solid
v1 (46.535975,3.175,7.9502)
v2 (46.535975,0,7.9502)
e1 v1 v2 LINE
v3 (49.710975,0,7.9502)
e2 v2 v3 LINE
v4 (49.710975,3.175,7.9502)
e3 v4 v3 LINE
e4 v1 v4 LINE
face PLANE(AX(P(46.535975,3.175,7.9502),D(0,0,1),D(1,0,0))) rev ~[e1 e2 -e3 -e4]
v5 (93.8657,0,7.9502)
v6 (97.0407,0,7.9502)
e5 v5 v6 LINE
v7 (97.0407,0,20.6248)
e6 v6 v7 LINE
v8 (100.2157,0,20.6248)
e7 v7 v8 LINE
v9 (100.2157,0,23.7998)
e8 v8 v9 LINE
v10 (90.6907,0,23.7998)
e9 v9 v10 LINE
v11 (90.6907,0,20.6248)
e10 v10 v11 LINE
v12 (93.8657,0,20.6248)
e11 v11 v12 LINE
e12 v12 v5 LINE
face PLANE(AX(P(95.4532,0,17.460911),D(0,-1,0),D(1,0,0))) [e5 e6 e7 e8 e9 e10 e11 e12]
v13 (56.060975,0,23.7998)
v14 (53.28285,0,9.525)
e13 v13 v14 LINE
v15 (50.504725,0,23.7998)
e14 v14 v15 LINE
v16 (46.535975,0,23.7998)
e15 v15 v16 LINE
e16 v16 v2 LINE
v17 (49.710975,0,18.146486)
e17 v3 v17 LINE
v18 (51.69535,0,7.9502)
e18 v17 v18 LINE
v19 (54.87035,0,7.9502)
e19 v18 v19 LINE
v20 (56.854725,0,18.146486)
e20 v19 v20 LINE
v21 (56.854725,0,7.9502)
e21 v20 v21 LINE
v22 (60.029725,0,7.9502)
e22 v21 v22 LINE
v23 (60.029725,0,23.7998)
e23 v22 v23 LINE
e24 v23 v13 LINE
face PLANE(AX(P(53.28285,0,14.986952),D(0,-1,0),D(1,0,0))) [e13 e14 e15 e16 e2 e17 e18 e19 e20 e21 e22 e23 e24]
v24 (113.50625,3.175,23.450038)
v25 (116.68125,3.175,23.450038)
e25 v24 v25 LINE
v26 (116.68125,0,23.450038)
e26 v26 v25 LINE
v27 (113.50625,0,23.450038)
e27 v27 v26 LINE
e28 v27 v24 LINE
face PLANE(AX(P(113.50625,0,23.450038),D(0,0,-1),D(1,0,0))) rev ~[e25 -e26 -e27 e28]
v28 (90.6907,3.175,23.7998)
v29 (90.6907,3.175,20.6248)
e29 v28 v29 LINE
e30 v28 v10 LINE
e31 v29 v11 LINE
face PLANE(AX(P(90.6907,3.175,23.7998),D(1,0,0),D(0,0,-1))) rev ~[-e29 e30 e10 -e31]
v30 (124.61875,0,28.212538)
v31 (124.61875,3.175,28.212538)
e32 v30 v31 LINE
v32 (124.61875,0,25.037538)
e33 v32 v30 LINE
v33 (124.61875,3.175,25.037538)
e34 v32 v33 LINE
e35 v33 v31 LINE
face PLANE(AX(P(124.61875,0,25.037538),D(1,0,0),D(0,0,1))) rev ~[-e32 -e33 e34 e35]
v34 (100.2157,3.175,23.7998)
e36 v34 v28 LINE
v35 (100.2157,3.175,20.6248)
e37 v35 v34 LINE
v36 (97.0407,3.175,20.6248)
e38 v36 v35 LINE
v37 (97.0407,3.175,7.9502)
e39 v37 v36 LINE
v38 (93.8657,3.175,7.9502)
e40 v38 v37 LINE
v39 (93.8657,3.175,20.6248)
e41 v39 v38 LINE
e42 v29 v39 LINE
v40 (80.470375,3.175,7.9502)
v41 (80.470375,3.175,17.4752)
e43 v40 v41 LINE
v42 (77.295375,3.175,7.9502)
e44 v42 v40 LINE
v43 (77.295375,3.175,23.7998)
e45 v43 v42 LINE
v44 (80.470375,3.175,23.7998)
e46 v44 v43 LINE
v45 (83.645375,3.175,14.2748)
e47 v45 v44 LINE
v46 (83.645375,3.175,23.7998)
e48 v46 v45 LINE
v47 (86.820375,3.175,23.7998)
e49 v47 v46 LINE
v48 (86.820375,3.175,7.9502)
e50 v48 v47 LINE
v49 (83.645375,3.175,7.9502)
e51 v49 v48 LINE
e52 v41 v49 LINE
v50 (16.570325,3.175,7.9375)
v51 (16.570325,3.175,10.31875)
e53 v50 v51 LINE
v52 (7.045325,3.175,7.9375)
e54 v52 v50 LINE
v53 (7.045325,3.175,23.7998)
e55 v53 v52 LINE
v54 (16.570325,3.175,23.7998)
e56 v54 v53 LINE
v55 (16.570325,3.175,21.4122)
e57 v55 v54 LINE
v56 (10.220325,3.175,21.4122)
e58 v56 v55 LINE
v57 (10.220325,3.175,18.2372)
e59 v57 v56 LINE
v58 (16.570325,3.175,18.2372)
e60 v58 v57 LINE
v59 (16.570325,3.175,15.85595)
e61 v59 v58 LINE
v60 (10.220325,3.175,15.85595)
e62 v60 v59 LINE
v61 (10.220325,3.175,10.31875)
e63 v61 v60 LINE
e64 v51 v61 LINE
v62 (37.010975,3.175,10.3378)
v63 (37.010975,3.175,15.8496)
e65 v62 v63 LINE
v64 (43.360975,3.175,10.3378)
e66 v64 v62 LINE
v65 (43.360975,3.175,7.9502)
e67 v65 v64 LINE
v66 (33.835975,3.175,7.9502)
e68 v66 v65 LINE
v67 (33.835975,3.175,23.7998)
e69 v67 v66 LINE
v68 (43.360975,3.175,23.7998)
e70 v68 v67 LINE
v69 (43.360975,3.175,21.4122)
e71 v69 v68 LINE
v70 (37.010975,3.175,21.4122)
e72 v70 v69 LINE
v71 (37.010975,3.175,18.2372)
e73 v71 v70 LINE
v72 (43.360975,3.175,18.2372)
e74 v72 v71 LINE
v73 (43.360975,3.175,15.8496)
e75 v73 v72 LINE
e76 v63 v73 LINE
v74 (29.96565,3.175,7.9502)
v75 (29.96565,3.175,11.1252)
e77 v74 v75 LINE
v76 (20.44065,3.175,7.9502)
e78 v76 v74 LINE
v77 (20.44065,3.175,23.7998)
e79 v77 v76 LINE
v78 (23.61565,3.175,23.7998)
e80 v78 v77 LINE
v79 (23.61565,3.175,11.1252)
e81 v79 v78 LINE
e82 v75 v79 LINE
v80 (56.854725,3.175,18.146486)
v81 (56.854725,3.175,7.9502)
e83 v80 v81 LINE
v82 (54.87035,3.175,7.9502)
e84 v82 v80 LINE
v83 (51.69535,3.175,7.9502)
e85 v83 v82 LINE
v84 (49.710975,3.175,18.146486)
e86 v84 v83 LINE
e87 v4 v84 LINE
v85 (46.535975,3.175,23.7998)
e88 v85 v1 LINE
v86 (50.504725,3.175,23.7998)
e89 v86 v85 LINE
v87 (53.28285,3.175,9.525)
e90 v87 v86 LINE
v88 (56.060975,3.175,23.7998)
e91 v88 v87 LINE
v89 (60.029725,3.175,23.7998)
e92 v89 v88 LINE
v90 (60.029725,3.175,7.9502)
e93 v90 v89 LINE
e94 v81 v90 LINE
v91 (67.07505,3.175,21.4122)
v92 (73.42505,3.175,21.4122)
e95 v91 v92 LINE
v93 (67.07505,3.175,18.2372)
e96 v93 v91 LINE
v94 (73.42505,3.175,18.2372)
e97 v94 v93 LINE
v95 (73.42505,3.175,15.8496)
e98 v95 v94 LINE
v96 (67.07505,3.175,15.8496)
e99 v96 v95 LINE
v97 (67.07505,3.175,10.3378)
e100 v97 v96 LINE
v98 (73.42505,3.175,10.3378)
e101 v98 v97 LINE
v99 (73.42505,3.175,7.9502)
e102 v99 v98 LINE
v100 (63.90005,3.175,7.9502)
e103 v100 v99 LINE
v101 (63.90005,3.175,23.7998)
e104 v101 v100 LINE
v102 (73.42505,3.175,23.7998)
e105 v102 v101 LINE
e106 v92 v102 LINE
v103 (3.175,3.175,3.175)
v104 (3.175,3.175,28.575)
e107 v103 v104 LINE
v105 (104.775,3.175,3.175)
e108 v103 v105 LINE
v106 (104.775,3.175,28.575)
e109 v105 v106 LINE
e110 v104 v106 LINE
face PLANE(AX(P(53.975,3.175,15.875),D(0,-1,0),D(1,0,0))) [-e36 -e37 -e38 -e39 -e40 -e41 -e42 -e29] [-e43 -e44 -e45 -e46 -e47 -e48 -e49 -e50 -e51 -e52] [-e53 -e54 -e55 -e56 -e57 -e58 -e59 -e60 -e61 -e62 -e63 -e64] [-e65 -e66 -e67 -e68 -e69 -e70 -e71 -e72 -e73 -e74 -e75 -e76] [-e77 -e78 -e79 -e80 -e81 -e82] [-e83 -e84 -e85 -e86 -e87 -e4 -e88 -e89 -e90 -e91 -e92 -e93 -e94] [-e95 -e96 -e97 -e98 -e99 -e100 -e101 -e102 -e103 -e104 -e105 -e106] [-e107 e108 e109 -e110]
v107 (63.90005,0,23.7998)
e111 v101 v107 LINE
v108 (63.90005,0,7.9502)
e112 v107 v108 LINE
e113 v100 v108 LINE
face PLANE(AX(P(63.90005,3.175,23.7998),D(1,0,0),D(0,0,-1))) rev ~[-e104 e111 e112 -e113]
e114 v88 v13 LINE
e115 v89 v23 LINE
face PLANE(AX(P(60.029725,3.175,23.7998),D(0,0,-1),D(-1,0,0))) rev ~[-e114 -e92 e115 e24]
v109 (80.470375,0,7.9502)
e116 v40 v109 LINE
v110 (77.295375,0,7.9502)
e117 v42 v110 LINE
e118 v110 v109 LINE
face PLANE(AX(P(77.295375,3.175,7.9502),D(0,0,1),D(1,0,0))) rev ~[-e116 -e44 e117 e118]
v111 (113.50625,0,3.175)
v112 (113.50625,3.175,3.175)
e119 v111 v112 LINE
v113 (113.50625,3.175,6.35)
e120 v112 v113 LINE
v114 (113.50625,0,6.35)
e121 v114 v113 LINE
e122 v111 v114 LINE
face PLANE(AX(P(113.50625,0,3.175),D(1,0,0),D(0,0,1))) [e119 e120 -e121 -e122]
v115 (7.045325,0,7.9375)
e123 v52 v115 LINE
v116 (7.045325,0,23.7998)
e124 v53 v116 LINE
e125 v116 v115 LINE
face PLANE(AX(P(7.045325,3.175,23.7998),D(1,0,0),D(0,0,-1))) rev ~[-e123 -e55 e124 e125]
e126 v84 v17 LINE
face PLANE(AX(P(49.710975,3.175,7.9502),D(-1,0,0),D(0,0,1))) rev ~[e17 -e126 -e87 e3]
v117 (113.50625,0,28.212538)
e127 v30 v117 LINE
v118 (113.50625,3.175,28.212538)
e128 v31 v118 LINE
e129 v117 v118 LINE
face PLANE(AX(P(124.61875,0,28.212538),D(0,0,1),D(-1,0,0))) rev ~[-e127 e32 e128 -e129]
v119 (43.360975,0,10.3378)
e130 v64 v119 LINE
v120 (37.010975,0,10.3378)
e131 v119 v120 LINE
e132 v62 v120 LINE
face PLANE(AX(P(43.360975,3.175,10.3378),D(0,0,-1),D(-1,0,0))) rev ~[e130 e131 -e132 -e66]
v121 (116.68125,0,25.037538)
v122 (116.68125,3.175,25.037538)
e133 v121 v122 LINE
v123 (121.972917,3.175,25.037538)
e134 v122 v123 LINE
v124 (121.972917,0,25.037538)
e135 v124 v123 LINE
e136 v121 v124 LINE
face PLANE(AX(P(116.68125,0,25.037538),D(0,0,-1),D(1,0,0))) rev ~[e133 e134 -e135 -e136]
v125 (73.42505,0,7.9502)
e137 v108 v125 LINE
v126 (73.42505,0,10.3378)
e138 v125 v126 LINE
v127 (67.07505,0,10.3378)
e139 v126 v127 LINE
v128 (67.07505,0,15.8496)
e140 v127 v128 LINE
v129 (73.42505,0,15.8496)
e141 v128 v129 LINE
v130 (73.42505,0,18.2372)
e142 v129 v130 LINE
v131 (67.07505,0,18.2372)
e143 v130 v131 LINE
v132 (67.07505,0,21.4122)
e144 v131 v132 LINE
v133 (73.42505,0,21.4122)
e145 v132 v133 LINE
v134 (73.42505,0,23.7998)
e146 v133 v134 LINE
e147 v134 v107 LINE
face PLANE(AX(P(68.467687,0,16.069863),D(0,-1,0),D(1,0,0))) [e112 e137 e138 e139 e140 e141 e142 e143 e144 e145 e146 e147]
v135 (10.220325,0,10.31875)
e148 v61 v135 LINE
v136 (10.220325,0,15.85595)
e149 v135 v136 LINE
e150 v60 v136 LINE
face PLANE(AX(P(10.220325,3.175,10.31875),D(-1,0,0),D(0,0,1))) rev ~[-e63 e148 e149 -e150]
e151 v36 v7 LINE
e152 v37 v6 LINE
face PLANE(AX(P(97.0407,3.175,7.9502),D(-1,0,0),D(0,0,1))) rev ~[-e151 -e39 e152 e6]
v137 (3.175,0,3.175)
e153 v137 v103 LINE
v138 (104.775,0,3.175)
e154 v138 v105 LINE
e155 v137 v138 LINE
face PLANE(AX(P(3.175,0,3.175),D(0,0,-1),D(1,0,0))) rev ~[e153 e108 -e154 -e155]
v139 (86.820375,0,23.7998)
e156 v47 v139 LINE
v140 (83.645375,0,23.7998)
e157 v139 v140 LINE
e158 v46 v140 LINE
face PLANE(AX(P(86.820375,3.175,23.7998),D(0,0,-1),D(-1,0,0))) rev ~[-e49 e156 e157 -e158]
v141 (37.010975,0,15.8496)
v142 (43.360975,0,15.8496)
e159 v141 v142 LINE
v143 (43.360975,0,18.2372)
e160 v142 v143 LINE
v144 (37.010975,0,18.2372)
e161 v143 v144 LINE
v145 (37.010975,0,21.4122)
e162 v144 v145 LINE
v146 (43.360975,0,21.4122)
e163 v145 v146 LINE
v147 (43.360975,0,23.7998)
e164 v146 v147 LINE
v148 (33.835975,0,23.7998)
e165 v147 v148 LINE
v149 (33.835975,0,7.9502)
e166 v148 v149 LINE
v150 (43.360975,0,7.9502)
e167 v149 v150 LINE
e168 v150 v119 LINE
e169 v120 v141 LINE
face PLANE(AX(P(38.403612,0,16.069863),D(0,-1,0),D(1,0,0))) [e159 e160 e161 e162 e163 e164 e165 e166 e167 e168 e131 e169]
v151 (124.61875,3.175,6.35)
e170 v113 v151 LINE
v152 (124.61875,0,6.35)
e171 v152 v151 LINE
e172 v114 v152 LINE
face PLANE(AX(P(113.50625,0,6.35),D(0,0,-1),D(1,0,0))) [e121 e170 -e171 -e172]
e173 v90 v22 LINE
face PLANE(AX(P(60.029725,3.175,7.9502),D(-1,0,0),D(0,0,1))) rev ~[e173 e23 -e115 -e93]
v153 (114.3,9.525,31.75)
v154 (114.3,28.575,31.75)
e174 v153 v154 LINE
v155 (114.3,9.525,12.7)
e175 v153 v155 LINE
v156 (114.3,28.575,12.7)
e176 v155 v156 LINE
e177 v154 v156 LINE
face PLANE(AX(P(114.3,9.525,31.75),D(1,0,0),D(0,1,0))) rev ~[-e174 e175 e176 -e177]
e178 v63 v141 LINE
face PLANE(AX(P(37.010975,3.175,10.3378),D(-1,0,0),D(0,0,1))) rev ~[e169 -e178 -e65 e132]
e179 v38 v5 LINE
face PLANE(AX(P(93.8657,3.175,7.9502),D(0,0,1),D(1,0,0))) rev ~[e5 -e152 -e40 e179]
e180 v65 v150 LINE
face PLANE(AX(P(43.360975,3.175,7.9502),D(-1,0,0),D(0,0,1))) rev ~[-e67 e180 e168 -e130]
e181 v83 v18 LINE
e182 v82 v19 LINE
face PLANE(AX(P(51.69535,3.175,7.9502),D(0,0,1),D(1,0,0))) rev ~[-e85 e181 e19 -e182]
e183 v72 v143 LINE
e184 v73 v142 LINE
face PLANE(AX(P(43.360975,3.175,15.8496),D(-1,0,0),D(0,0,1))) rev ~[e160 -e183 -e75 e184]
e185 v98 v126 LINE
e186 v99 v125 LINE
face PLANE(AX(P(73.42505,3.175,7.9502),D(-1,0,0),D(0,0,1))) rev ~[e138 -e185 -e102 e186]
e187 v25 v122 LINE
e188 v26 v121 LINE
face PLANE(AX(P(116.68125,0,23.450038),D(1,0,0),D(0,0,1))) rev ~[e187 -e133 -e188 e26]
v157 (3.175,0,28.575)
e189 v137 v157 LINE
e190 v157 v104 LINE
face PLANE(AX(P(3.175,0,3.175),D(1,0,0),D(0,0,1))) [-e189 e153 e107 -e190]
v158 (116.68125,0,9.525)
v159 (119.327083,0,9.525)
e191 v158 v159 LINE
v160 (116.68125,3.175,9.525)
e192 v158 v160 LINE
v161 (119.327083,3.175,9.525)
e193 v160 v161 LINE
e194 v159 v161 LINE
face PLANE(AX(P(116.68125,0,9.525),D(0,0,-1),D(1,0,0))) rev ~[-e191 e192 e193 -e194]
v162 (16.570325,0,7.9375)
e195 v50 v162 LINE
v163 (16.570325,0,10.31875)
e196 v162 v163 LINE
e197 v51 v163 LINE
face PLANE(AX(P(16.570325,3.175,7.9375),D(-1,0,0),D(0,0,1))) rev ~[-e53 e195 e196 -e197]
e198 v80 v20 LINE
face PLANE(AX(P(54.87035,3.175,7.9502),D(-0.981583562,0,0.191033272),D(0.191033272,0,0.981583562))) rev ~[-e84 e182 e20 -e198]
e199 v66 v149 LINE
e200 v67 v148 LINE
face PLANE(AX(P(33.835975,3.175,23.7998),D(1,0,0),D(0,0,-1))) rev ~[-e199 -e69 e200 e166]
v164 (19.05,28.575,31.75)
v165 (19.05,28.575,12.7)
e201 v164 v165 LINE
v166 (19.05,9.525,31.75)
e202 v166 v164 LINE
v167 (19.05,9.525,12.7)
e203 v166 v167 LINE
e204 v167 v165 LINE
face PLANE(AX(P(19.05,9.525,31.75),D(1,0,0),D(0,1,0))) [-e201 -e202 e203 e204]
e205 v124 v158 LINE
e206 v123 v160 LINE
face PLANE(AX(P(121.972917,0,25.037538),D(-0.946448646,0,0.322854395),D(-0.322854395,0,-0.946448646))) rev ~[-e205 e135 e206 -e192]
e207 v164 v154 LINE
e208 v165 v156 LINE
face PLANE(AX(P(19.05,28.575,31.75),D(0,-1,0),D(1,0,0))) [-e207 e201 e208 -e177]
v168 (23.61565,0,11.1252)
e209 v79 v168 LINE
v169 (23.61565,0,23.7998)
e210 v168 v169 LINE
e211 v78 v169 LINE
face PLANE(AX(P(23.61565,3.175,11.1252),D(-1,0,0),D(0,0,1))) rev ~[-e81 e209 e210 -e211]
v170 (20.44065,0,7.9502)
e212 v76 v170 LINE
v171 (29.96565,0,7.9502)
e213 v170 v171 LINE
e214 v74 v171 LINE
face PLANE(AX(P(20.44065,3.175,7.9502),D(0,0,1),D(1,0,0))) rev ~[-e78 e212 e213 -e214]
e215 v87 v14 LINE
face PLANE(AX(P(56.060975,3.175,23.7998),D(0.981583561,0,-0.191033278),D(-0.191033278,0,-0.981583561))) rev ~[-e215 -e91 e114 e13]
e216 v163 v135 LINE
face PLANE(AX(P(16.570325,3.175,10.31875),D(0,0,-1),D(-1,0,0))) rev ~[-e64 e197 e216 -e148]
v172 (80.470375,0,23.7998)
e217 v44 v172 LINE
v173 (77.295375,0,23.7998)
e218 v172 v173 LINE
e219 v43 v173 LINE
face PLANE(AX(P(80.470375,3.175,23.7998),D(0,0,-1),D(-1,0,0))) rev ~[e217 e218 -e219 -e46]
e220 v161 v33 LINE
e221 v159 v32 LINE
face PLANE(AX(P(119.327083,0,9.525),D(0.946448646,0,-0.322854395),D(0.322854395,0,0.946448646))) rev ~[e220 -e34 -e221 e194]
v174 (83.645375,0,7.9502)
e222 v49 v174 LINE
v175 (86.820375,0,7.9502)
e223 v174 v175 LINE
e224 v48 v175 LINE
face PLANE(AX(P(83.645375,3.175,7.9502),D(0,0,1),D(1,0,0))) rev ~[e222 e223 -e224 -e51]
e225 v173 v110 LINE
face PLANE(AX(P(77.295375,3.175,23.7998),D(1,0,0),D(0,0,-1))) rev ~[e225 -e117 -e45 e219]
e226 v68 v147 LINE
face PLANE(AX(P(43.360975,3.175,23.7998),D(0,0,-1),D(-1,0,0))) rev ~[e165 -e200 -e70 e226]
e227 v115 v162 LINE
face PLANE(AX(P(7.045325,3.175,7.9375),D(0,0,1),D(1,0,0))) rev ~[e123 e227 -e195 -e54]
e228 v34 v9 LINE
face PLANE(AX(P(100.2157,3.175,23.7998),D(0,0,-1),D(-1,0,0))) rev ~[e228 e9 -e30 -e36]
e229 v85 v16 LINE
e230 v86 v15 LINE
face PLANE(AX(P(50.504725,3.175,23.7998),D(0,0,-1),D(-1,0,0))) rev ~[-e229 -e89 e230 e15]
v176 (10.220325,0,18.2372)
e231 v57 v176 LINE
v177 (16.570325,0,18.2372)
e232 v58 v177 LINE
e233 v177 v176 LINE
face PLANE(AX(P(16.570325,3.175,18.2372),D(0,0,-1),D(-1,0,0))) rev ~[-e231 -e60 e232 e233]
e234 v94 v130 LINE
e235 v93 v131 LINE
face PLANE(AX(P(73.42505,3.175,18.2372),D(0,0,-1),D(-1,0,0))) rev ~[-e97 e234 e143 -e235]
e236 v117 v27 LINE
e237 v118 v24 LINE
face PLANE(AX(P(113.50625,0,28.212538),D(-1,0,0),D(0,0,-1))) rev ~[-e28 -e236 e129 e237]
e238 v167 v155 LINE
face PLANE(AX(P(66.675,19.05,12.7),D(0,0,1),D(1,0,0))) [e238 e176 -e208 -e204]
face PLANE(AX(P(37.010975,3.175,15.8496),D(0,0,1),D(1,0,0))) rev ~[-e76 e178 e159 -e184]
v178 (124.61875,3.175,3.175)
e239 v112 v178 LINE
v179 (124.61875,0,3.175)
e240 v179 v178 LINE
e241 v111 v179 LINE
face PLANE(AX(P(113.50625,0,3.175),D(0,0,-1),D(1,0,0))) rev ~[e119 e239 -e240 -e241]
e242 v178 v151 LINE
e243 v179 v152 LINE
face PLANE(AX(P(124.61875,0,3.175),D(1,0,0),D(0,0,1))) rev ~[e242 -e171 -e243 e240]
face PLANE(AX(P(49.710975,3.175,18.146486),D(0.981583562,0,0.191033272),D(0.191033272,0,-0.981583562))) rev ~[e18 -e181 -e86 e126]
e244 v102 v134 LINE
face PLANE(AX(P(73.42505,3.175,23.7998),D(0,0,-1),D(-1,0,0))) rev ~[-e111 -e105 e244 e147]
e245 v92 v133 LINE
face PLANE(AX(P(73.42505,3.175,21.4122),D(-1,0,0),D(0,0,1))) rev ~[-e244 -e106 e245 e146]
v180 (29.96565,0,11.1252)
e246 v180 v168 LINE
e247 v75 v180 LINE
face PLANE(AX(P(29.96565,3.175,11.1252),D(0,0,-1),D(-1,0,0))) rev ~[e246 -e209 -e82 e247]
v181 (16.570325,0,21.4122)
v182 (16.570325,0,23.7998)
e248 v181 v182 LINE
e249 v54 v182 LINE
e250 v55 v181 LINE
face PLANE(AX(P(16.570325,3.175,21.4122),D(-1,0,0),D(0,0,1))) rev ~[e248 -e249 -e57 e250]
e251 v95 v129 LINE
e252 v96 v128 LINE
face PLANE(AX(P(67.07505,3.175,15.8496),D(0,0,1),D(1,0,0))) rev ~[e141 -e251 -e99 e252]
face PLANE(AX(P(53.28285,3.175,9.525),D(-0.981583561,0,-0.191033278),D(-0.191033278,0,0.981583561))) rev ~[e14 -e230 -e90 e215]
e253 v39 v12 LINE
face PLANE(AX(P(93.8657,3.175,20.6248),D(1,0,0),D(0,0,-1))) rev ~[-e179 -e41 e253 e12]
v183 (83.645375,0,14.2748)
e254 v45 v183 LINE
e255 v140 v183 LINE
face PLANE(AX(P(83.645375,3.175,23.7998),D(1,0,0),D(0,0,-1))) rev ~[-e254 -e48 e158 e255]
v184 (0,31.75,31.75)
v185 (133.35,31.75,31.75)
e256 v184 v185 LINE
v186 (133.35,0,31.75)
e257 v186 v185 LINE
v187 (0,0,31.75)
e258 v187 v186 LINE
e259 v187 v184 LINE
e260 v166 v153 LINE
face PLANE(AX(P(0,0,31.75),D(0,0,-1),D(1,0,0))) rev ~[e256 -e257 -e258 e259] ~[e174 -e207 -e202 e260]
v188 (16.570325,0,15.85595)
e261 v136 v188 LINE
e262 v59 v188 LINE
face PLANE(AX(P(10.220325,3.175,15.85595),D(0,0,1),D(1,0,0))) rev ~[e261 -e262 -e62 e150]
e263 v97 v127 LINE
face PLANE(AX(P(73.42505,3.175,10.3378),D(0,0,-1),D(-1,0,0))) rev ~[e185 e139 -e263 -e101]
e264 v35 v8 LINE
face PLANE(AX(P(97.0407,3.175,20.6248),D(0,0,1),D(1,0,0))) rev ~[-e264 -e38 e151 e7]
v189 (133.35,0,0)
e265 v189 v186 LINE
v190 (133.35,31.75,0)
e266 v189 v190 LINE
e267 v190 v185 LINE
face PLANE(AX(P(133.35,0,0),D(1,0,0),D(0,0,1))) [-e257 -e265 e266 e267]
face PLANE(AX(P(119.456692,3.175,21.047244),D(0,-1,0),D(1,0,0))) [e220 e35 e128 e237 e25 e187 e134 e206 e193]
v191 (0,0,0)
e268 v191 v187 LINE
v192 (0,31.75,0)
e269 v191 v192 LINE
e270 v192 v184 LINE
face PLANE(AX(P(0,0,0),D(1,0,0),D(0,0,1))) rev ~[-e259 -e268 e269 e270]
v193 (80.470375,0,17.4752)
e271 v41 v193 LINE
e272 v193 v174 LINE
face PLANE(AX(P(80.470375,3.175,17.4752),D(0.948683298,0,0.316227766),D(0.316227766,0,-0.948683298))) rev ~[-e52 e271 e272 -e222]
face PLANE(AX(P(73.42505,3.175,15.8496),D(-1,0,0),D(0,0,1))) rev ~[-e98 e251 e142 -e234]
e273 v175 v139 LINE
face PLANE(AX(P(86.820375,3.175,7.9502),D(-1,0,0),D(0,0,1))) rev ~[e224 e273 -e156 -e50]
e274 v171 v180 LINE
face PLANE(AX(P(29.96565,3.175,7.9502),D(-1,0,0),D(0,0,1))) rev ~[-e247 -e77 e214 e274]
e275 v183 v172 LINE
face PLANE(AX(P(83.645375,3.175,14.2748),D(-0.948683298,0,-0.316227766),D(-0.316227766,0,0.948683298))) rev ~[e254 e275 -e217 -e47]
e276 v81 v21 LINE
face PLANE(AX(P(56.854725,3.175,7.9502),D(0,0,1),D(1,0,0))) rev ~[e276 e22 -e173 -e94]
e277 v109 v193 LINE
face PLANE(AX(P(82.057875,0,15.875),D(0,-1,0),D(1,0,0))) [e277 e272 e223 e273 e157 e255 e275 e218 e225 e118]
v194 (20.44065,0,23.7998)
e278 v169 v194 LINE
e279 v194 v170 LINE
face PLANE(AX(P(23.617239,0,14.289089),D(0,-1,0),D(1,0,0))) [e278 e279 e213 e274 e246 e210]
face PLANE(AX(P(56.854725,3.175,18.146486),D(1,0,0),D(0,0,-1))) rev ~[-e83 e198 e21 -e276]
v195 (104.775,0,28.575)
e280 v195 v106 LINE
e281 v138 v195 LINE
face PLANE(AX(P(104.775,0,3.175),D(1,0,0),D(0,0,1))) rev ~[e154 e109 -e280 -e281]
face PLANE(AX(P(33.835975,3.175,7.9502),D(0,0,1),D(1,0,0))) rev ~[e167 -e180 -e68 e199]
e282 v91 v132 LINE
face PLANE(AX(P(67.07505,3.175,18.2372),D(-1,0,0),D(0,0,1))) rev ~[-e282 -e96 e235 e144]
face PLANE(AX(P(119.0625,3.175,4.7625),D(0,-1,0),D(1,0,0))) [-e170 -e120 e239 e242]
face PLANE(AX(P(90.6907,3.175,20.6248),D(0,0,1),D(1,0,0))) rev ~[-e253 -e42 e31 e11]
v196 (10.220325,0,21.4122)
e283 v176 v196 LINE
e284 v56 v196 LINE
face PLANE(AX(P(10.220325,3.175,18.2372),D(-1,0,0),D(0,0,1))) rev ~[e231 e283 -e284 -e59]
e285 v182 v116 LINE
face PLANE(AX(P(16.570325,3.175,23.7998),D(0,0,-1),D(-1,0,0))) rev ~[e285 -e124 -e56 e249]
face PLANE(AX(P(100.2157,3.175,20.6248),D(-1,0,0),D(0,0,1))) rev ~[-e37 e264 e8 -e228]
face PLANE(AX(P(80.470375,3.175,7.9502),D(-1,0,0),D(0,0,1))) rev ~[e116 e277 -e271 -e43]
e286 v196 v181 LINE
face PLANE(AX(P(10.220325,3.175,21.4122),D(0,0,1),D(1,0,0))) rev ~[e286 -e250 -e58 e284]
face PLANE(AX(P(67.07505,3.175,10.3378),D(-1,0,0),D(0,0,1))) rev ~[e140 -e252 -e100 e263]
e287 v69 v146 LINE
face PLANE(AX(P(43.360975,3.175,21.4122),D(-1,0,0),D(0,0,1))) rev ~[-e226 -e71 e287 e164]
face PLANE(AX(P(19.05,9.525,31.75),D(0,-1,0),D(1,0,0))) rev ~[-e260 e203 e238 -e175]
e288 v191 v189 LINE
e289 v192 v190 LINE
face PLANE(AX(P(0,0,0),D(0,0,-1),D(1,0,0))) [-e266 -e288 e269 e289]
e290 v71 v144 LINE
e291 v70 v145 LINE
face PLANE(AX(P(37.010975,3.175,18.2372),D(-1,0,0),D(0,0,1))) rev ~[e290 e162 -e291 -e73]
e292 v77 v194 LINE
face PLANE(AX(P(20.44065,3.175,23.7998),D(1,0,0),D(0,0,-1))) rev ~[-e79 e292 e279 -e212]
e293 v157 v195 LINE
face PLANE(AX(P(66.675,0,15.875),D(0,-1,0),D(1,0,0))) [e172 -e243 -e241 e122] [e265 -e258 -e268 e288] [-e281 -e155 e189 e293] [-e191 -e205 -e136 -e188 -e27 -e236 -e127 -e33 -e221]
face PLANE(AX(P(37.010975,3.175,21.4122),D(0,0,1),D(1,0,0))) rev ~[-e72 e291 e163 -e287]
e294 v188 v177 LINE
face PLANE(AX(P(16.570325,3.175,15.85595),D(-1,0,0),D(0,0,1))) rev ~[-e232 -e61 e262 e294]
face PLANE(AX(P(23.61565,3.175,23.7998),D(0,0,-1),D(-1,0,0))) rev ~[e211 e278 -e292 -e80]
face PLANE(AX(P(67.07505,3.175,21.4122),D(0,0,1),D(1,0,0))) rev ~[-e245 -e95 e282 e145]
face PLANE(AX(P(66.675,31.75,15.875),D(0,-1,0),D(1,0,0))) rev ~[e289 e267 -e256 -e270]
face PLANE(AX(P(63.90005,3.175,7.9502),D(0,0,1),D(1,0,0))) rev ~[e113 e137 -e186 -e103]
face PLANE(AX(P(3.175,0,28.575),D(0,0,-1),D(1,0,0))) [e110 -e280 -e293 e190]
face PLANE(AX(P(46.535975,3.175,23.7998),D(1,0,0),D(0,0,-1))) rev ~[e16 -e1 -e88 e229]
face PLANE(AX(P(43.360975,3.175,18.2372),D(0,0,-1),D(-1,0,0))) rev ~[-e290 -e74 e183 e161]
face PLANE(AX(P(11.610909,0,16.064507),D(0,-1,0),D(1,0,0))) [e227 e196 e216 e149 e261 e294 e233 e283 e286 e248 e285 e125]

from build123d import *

# Parameters (mm, degrees)
F0_W      = 133.35
F0_H      = 31.75
F1_DEPTH  = 31.75
F2_W      = 101.6
F2_H      = 25.4
F3_DEPTH  = 3.175
F5_DEPTH  = 3.175
F6_W      = 11.1125
F6_H      = 3.175
F7_DEPTH  = 3.175
F9_DEPTH  = 3.175
F11_DEPTH = 3.175
F14_DEPTH = 3.175
F15_DEPTH = 3.175
F17_DEPTH = 3.175
F19_DEPTH = 3.175
F21_DEPTH = 3.175
F22_W     = 95.25
F22_H     = 19.05
F23_DEPTH = 19.05


with BuildPart() as f1:
    # F0 (on Front) → F1 (new body)
    with BuildSketch(Plane.XZ):
        with Locations((66.675, 15.875)):
            Rectangle(F0_W, F0_H)
    extrude(amount=-F1_DEPTH)

    # F2 (on face) → F3 (cut)
    with BuildSketch(Plane.XZ):
        with Locations((53.975, 15.875)):
            Rectangle(F2_W, F2_H)
    extrude(amount=-F3_DEPTH, mode=Mode.SUBTRACT)

    # F4 (on face) → F5 (join)
    with BuildSketch(Plane.XZ.offset(-3.175)):
        Polygon((16.570325, 23.7998), (7.045325, 23.7998), (7.045325, 7.9375), (16.570325, 7.9375), (16.570325, 10.31875), (10.220325, 10.31875), (10.220325, 15.85595), (16.570325, 15.85595), (16.570325, 18.2372), (10.220325, 18.2372), (10.220325, 21.4122), (16.570325, 21.4122), align=None)
    extrude(amount=F5_DEPTH)

    # F6 (on face) → F7 (cut)
    with BuildSketch(Plane.XZ):
        with Locations((119.0625, 4.7625)):
            Rectangle(F6_W, F6_H)
    extrude(amount=-F7_DEPTH, mode=Mode.SUBTRACT)

    # F8 (on face) → F9 (cut)
    with BuildSketch(Plane.XZ):
        Polygon((124.61875, 28.212538), (113.50625, 28.212538), (113.50625, 23.450038), (116.68125, 23.450038), (116.68125, 25.037538), (121.972917, 25.037538), (116.68125, 9.525), (119.327083, 9.525), (124.61875, 25.037538), align=None)
    extrude(amount=-F9_DEPTH, mode=Mode.SUBTRACT)

    # F10 (on face) → F11 (join)
    with BuildSketch(Plane.XZ.offset(-3.175)):
        Polygon((23.61565, 23.7998), (20.44065, 23.7998), (20.44065, 7.9502), (29.96565, 7.9502), (29.96565, 11.1252), (23.61565, 11.1252), align=None)
    extrude(amount=F11_DEPTH)

    # F13 (on face) → F14 (join)
    with BuildSketch(Plane.XZ.offset(-3.175)):
        Polygon((43.360975, 23.7998), (33.835975, 23.7998), (33.835975, 7.9502), (43.360975, 7.9502), (43.360975, 10.3378), (37.010975, 10.3378), (37.010975, 15.8496), (43.360975, 15.8496), (43.360975, 18.2372), (37.010975, 18.2372), (37.010975, 21.4122), (43.360975, 21.4122), align=None)
    extrude(amount=F14_DEPTH)

    # F12 (on face) → F15 (join)
    with BuildSketch(Plane.XZ.offset(-3.175)):
        Polygon((50.504725, 23.7998), (46.535975, 23.7998), (46.535975, 7.9502), (49.710975, 7.9502), (49.710975, 18.146486), (51.69535, 7.9502), (54.87035, 7.9502), (56.854725, 18.146486), (56.854725, 7.9502), (60.029725, 7.9502), (60.029725, 23.7998), (56.060975, 23.7998), (53.28285, 9.525), align=None)
    extrude(amount=F15_DEPTH)

    # F16 (on face) → F17 (join)
    with BuildSketch(Plane.XZ.offset(-3.175)):
        Polygon((73.42505, 23.7998), (63.90005, 23.7998), (63.90005, 7.9502), (73.42505, 7.9502), (73.42505, 10.3378), (67.07505, 10.3378), (67.07505, 15.8496), (73.42505, 15.8496), (73.42505, 18.2372), (67.07505, 18.2372), (67.07505, 21.4122), (73.42505, 21.4122), align=None)
    extrude(amount=F17_DEPTH)

    # F18 (on face) → F19 (join)
    with BuildSketch(Plane.XZ.offset(-3.175)):
        Polygon((80.470375, 23.7998), (77.295375, 23.7998), (77.295375, 7.9502), (80.470375, 7.9502), (80.470375, 17.4752), (83.645375, 7.9502), (86.820375, 7.9502), (86.820375, 23.7998), (83.645375, 23.7998), (83.645375, 14.2748), align=None)
    extrude(amount=F19_DEPTH)

    # F20 (on face) → F21 (join)
    with BuildSketch(Plane.XZ.offset(-3.175)):
        Polygon((100.2157, 23.7998), (90.6907, 23.7998), (90.6907, 20.6248), (93.8657, 20.6248), (93.8657, 7.9502), (97.0407, 7.9502), (97.0407, 20.6248), (100.2157, 20.6248), align=None)
    extrude(amount=F21_DEPTH)

    # F22 (on face) → F23 (cut)
    with BuildSketch(Plane.XY.offset(31.75)):
        with Locations((66.675, 19.05)):
            Rectangle(F22_W, F22_H)
    extrude(amount=-F23_DEPTH, mode=Mode.SUBTRACT)


solid = f1.part
